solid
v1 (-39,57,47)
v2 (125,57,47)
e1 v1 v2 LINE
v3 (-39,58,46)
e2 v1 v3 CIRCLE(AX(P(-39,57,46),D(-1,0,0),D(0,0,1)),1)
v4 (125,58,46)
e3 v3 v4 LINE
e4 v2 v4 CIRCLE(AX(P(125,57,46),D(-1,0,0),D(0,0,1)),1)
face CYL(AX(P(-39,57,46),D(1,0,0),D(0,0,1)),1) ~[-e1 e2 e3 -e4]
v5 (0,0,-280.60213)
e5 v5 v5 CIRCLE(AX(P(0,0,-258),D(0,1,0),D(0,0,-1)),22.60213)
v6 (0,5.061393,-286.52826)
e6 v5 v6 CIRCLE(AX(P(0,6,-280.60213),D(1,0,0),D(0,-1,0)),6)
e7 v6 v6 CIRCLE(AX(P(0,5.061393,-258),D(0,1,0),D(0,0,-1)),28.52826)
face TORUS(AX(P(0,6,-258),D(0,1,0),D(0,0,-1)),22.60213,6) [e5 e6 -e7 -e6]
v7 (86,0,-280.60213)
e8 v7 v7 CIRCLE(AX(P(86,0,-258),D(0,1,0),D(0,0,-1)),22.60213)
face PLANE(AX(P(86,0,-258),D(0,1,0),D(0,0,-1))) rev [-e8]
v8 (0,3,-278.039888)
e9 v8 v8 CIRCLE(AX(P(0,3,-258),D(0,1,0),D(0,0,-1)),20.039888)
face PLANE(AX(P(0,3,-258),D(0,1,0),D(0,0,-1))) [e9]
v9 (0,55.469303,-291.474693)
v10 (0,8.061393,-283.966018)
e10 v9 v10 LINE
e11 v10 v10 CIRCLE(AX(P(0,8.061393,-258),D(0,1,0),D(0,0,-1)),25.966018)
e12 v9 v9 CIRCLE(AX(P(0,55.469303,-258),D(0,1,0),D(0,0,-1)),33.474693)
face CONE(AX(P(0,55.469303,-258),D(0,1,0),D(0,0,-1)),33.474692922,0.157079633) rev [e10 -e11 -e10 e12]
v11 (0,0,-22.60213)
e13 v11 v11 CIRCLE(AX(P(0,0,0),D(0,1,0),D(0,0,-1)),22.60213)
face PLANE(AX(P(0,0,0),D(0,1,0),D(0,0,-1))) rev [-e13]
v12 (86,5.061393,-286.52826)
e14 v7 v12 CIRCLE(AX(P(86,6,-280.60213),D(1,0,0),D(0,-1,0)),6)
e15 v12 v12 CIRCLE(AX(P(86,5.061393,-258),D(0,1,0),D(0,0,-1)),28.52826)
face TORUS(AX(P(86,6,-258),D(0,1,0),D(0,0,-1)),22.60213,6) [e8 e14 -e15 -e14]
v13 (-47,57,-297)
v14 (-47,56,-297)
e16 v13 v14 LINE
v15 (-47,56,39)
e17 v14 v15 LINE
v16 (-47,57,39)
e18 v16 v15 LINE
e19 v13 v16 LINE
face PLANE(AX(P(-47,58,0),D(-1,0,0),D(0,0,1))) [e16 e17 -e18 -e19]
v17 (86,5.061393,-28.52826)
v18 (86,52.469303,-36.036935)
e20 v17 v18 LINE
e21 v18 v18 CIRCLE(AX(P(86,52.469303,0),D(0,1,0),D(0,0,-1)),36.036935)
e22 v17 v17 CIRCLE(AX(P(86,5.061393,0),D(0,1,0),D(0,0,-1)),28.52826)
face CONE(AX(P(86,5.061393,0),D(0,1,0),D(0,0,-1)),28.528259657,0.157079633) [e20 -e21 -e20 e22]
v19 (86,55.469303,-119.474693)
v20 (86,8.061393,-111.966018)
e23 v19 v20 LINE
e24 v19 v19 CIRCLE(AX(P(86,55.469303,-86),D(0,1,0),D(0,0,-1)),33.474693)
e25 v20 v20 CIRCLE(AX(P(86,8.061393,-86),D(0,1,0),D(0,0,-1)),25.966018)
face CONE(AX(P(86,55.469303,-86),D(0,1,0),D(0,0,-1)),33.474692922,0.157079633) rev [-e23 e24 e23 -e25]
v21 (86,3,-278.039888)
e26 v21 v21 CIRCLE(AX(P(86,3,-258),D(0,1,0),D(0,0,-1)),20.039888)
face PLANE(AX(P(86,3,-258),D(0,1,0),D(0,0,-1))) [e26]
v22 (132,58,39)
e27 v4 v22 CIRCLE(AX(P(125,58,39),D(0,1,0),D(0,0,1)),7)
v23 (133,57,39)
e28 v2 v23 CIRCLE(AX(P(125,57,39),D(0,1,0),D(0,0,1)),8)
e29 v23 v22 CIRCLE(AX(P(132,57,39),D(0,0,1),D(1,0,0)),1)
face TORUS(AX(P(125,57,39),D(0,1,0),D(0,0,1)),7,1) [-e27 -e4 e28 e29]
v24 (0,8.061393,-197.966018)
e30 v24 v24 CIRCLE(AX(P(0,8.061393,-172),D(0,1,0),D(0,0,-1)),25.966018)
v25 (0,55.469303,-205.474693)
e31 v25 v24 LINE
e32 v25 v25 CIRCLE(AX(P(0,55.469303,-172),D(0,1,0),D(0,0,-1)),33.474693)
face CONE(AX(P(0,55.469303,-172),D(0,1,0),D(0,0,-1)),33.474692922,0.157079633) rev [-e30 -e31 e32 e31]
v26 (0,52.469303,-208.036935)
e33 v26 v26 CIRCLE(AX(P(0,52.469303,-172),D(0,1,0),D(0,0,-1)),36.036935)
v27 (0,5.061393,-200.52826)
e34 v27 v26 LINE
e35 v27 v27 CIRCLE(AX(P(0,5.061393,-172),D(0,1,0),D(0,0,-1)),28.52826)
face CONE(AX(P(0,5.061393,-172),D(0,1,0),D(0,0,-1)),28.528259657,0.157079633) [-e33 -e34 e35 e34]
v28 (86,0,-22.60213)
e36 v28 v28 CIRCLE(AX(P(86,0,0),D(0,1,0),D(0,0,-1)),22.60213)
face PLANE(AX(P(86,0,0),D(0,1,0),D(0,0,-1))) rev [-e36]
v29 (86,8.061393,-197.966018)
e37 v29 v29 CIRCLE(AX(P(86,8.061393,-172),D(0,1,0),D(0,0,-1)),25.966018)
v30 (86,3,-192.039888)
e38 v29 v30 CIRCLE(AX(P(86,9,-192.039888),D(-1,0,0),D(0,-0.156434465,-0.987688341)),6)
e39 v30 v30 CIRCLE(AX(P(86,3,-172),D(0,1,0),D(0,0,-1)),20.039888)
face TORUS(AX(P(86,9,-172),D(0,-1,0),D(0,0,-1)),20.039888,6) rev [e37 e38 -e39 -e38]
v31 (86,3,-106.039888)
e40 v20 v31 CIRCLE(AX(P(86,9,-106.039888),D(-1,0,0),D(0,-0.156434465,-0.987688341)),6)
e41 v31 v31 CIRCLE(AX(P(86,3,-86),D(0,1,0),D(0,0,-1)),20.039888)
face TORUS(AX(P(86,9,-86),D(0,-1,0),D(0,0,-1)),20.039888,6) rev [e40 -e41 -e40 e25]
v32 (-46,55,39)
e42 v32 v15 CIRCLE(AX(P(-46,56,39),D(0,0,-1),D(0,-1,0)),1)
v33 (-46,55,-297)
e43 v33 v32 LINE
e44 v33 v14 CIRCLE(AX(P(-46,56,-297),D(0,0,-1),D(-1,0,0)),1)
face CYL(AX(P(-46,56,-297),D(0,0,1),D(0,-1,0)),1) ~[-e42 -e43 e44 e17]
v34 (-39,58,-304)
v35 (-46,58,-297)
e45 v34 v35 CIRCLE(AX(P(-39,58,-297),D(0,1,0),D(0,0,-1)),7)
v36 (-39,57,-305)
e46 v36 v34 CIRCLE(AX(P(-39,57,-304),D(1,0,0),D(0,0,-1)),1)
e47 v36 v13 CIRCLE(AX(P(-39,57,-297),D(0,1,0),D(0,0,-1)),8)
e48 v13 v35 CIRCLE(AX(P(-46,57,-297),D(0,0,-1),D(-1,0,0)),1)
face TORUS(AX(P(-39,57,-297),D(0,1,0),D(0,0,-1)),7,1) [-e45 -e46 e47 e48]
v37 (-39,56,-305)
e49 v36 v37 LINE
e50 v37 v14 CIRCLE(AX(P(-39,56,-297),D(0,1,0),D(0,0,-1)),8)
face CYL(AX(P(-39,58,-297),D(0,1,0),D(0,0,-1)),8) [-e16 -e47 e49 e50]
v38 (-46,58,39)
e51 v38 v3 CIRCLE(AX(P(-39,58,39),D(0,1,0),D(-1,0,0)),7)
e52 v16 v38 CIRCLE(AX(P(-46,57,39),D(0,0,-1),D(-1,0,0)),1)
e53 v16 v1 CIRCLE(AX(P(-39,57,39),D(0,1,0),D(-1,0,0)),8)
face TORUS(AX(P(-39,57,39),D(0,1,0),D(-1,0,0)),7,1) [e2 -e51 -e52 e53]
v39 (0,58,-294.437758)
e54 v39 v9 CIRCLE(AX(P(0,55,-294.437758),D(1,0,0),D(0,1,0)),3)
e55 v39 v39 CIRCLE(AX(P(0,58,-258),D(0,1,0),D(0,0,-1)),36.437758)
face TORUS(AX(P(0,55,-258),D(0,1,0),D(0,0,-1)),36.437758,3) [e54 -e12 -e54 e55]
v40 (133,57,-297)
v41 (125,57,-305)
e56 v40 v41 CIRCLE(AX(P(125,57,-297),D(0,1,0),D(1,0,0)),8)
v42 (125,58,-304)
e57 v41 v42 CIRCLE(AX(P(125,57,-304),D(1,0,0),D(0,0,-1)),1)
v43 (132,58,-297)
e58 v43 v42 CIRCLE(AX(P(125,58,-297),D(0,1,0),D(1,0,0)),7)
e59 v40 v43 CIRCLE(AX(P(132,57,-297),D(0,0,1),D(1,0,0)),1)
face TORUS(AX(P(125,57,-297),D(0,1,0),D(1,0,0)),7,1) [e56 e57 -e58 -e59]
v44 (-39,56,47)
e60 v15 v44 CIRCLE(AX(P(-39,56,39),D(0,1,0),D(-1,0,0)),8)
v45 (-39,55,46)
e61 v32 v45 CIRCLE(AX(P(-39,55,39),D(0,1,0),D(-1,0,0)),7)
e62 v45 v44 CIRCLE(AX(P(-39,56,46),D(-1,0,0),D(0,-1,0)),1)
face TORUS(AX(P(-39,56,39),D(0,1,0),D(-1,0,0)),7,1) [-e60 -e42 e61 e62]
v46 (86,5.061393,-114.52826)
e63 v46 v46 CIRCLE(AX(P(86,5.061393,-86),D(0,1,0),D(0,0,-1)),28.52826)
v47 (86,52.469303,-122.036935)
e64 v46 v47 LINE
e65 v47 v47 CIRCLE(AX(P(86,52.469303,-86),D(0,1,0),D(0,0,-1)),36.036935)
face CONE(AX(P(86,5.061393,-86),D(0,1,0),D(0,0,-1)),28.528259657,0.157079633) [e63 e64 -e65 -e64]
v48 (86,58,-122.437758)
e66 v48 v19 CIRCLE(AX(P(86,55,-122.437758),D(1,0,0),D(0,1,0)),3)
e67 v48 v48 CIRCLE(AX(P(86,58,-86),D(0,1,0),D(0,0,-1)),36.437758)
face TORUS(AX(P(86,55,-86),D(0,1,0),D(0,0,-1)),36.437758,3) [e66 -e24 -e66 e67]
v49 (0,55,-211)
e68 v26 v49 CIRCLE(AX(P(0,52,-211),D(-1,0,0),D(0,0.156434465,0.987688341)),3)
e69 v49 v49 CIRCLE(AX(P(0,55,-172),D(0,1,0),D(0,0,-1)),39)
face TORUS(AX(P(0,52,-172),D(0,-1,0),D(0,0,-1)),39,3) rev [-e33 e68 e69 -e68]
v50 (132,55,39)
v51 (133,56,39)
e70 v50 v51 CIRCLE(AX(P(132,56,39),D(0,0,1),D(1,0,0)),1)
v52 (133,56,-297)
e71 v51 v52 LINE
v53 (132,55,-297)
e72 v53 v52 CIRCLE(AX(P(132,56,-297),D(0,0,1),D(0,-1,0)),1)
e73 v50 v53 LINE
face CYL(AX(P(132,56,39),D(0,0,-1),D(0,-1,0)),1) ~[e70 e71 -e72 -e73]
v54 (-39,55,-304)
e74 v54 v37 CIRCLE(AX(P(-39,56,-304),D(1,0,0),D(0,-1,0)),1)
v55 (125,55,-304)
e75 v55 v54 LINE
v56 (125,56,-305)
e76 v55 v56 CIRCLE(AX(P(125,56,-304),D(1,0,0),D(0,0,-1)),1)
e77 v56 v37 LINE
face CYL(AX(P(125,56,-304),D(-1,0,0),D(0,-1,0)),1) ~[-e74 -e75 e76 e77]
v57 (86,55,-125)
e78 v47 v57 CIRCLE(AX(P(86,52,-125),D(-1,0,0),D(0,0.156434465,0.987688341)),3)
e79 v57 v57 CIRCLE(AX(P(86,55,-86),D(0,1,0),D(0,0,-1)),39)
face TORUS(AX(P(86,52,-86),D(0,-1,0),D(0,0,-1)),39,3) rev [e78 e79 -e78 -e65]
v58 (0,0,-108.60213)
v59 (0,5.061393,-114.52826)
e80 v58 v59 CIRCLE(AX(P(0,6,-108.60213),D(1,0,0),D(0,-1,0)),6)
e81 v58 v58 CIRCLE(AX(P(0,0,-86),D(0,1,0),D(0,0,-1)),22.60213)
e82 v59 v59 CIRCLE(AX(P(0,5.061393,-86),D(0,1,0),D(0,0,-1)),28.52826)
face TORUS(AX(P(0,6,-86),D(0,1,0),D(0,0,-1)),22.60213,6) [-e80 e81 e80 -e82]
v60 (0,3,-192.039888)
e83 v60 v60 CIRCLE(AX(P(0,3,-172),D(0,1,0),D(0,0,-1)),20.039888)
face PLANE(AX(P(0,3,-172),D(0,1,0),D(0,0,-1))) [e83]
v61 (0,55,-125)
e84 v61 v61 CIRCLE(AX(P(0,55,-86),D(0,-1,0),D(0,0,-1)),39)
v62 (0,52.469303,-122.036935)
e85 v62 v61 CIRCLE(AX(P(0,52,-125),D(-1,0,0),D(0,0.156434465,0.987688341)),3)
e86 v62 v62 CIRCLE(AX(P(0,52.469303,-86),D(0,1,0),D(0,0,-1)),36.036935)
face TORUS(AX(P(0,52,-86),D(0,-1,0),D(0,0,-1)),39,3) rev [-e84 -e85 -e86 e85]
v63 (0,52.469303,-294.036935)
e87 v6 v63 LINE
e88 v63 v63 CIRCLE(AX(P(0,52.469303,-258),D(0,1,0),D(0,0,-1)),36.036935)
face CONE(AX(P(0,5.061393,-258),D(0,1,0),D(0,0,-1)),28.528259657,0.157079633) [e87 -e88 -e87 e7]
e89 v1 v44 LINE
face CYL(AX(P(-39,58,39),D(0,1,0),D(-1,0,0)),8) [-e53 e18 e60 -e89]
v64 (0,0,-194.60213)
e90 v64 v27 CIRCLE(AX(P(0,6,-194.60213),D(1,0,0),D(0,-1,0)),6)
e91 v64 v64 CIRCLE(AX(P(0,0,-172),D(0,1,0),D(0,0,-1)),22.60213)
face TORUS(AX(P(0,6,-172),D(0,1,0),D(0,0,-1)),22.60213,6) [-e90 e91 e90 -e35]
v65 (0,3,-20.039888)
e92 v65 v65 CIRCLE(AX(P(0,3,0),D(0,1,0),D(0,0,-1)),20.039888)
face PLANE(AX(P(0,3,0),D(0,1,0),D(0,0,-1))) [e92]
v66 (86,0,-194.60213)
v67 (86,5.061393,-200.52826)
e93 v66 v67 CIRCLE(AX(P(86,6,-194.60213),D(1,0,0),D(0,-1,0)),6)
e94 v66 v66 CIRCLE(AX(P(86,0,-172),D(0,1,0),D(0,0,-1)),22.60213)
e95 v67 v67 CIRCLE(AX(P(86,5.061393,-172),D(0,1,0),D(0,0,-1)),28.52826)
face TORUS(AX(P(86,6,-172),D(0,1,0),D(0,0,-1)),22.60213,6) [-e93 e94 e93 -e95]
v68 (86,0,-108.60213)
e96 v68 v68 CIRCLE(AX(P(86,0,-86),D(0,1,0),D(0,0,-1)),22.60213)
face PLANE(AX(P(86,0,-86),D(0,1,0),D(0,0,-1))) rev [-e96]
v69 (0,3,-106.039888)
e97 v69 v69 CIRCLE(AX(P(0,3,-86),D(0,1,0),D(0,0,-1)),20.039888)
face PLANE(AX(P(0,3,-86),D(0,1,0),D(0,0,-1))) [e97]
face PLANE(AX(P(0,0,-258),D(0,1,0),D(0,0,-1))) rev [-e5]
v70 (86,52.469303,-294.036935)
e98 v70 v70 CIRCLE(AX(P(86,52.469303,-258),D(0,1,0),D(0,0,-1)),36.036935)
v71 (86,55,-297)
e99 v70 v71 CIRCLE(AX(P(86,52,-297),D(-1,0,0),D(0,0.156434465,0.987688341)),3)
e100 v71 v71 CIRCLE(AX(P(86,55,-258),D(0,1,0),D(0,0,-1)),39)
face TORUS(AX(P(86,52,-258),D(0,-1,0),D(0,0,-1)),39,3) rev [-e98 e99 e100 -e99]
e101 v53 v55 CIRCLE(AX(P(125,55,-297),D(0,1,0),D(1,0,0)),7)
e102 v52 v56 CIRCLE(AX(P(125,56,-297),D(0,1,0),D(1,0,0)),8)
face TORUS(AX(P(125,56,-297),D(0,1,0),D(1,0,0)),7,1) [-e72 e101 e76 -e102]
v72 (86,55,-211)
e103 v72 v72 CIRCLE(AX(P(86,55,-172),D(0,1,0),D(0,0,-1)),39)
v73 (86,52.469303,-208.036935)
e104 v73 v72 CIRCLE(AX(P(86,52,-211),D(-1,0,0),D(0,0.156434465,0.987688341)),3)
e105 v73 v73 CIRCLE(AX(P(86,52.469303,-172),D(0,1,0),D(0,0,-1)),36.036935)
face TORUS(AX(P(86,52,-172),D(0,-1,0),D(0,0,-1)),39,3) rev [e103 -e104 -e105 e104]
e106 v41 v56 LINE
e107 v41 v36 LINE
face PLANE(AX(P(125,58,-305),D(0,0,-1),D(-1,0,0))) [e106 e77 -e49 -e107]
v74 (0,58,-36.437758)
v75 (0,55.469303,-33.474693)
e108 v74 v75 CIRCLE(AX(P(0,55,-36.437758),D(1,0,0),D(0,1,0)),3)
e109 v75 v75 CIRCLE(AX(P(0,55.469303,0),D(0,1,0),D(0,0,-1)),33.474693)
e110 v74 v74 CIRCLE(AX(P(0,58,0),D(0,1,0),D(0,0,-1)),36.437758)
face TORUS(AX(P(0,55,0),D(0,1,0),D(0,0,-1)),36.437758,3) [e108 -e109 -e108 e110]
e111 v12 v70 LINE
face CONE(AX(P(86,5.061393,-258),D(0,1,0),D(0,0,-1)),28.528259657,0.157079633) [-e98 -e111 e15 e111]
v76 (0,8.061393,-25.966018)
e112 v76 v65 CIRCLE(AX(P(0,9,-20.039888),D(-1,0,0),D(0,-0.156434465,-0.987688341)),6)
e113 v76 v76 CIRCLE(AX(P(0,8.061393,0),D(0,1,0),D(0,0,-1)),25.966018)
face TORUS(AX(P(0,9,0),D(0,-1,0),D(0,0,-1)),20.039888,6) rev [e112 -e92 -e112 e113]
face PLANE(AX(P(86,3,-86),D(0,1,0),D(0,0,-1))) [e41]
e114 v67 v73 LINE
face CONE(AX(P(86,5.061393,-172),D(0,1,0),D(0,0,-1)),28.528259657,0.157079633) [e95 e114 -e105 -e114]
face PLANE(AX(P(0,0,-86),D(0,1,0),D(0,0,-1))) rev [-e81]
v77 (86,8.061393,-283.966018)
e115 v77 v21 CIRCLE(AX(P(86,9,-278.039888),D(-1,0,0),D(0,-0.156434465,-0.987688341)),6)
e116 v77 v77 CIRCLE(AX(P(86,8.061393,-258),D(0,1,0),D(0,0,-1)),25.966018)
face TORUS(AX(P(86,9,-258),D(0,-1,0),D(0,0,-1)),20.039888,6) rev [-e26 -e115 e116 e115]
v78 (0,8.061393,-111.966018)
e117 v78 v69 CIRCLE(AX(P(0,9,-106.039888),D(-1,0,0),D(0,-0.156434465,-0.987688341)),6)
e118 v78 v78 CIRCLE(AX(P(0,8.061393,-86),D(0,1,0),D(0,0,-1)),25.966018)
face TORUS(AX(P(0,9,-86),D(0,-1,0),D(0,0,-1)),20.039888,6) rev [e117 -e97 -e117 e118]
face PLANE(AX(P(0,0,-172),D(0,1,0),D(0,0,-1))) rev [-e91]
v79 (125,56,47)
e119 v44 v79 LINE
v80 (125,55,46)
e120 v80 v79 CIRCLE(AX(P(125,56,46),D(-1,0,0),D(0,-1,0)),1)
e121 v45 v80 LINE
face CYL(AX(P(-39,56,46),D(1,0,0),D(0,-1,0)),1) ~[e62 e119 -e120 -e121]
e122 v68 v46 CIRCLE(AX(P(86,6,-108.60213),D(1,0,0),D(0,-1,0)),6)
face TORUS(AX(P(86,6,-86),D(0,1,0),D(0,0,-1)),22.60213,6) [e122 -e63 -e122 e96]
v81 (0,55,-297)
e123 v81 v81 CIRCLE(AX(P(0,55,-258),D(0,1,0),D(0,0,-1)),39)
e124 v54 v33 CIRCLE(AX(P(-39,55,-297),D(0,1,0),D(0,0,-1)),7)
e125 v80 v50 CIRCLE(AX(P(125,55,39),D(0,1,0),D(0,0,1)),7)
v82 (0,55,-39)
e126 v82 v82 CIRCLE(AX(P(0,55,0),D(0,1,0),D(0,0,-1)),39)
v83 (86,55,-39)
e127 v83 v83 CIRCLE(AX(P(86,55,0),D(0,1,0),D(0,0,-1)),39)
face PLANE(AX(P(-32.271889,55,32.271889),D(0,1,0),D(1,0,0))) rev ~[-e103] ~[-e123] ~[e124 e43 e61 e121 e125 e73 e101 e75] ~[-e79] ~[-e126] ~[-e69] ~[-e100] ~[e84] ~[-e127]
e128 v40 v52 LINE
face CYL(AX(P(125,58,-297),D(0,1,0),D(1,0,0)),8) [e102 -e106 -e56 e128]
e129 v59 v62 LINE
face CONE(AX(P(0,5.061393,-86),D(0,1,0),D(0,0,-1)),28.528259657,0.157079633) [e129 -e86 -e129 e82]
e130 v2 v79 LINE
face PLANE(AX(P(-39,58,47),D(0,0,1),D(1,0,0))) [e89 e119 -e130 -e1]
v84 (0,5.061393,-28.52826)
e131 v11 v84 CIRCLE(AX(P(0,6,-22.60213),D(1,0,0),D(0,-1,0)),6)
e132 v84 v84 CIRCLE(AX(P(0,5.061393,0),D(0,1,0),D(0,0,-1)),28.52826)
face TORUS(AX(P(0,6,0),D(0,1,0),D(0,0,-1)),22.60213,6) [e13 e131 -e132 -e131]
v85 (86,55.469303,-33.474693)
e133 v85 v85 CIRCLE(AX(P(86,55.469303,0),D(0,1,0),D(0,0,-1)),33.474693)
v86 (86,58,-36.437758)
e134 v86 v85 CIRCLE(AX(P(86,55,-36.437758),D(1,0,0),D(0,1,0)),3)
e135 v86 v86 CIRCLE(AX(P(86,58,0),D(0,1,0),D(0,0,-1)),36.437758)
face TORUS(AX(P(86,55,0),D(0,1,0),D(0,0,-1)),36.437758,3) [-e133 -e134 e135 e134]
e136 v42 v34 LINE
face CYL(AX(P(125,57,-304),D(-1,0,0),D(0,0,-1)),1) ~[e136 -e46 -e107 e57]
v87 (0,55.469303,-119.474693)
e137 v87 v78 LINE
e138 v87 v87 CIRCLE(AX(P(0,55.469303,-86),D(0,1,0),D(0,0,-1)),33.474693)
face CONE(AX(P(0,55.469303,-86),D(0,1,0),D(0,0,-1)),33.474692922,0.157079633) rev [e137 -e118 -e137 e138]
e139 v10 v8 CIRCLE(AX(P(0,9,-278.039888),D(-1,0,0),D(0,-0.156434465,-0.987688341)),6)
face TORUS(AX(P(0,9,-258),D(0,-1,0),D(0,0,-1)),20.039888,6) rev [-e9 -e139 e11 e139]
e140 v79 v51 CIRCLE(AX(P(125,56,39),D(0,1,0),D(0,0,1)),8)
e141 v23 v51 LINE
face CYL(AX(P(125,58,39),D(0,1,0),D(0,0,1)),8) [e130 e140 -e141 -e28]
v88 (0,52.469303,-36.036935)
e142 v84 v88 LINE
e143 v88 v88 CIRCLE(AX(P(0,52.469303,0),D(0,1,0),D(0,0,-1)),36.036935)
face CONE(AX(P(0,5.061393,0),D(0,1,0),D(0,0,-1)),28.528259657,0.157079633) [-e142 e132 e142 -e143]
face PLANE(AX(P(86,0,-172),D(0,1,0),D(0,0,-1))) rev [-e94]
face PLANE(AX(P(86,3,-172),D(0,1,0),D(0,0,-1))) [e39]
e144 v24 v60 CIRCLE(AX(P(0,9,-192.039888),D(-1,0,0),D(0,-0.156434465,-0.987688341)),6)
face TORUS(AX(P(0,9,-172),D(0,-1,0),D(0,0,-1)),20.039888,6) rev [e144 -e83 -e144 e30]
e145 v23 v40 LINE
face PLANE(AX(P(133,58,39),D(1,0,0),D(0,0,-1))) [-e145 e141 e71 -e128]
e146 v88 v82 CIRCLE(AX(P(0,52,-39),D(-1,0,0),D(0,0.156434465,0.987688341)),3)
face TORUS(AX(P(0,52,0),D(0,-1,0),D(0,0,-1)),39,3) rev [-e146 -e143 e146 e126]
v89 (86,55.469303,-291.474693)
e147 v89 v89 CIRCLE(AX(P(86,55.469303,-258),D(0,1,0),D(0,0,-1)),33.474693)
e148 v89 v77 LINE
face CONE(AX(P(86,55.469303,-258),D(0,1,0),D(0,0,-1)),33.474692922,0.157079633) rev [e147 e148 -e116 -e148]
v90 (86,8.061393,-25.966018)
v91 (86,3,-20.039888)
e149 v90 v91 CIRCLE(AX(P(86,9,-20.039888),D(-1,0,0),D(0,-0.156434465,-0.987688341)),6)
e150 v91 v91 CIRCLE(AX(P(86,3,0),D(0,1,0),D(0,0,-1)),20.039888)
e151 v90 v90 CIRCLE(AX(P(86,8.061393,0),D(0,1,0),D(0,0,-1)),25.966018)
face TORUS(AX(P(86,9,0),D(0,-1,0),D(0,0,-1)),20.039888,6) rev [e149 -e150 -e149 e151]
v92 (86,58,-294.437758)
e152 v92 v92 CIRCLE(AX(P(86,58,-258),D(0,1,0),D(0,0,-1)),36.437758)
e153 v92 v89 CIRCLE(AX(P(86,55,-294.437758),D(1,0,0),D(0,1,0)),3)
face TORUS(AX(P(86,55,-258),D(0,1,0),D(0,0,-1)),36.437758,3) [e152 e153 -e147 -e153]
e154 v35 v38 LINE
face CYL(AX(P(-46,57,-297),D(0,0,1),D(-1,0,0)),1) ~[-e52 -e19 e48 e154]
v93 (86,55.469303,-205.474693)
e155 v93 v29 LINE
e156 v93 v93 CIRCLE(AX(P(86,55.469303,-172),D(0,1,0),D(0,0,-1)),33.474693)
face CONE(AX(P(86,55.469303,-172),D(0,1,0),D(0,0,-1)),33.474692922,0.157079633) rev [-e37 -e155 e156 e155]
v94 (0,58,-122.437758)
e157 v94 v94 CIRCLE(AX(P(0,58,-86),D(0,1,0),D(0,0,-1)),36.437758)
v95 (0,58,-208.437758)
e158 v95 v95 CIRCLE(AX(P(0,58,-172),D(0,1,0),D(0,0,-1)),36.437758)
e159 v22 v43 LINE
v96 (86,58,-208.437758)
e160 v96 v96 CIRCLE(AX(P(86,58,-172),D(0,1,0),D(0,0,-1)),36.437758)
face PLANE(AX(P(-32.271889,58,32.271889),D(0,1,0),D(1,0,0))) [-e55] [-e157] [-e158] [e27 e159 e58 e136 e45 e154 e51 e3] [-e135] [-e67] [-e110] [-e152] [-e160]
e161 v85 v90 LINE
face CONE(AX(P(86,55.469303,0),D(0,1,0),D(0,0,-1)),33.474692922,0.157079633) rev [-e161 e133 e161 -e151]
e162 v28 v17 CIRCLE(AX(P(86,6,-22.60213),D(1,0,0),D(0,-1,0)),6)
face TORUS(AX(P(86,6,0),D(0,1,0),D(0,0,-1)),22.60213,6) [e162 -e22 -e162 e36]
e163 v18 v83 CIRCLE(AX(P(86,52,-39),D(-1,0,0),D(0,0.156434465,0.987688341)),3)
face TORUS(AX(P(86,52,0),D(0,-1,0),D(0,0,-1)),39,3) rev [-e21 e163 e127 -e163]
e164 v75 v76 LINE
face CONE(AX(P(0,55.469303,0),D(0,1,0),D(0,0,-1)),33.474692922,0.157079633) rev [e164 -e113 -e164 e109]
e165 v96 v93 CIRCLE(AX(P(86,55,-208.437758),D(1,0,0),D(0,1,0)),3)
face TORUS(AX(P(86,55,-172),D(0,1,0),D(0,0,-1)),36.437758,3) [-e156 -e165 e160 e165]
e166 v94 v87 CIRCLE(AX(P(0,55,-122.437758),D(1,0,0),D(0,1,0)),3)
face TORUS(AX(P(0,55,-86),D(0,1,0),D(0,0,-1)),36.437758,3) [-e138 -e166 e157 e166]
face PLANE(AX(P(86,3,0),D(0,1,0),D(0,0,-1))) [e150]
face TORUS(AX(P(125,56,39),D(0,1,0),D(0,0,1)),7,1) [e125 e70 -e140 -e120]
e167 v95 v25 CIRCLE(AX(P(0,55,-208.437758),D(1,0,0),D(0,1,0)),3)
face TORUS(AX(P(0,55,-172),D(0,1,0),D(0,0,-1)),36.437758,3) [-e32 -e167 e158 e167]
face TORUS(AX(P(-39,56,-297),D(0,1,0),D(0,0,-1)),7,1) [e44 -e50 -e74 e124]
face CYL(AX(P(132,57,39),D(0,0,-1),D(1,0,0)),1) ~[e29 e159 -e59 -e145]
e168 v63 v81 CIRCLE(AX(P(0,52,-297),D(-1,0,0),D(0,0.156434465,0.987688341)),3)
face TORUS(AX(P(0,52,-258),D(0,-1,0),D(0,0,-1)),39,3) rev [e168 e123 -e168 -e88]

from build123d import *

# Parameters (mm, degrees)
LPATTERN1_COUNT      = 2
LPATTERN1_PITCH      = 86
LPATTERN1_COUNT_DIR2 = 4
LPATTERN1_PITCH_DIR2 = 86
BOSS_EXTRUDE1_START  = 58
BOSS_EXTRUDE1_DEPTH  = 3
FILLET1_R            = 1


with BuildPart() as part:
    # Sketch1 → Revolve1 (revolve)
    with BuildSketch(Plane.XY, mode=Mode.PRIVATE) as revolve1_sk:
        with BuildLine():
            Line((0, 0), (-22.602129613, 0))
            ThreePointArc((-22.602129613, 0), (-26.498817903, 1.437564206), (-28.528259657, 5.06139321))
            Line((-28.528259657, 5.06139321), (-36.036934978, 52.469303395))
            ThreePointArc((-36.036934978, 52.469303395), (-37.051655855, 54.281217897), (-39, 55))
            Line((-39, 55), (-47, 55))
            Line((-47, 55), (-47, 58))
            Line((-47, 58), (-36.437757944, 58))
            ThreePointArc((-36.437757944, 58), (-34.489413799, 57.281217897), (-33.474692922, 55.469303395))
            Line((-33.474692922, 55.469303395), (-25.9660176, 8.06139321))
            ThreePointArc((-25.9660176, 8.06139321), (-23.936575847, 4.437564206), (-20.039887557, 3))
            Line((-20.039887557, 3), (0, 3))
            Line((0, 3), (0, 0))
        make_face()
    revolve1 = revolve(revolve1_sk.sketch.rotate(Axis((0, 0, 0), (0, 1, 0)), 270), axis=Axis((0, 0, 0), (0, 1, 0)))

    # LPattern1: Revolve1 2 × 4
    with Locations(*[(i * LPATTERN1_PITCH, 0, -j * LPATTERN1_PITCH_DIR2) for i in range(LPATTERN1_COUNT) for j in range(LPATTERN1_COUNT_DIR2) if (i, j) != (0, 0)]):
        add(revolve1)

    # Sketch3 → Boss-Extrude1 (add)
    with BuildSketch(Plane(origin=(0, 0, 0), x_dir=(1, 0, 0), z_dir=(0, 1, 0)).offset(BOSS_EXTRUDE1_START)):
        with BuildLine():
            ThreePointArc((-47, -39), (-44.656854249, -44.656854249), (-39, -47))
            Line((-39, -47), (1.51e-07, -47))
            ThreePointArc((1.51e-07, -47), (-33.234018781, -33.234018651), (-47, 3.35e-07))
            Line((-47, 3.35e-07), (-47, -39))
        make_face()
        with BuildLine():
            ThreePointArc((43, -18.973665961), (25.663570546, -39.374879642), (1.51e-07, -47))
            Line((1.51e-07, -47), (86, -47))
            ThreePointArc((86, -47), (60.336429517, -39.374879683), (43, -18.973665961))
        make_face()
        with BuildLine():
            ThreePointArc((133, 0), (119.234018716, -33.234018716), (86, -47))
            Line((86, -47), (125, -47))
            ThreePointArc((125, -47), (130.656854249, -44.656854249), (133, -39))
            Line((133, -39), (133, 0))
        make_face()
        with BuildLine():
            ThreePointArc((104.973665961, 43), (125.374879683, 25.663570483), (133, 0))
            Line((133, 0), (133, 86))
            ThreePointArc((133, 86), (125.374879683, 60.336429517), (104.973665961, 43))
        make_face()
        with BuildLine():
            ThreePointArc((104.973665961, 129), (125.374879683, 111.663570483), (133, 86))
            Line((133, 86), (133, 172))
            ThreePointArc((133, 172), (125.374879683, 146.336429517), (104.973665961, 129))
        make_face()
        with BuildLine():
            ThreePointArc((67.026334039, 43), (52.765981284, 33.234018716), (43, 18.973665961))
            ThreePointArc((43, 18.973665961), (33.234018716, 33.234018716), (18.973665961, 43))
            ThreePointArc((18.973665961, 43), (33.234018716, 52.765981284), (43, 67.026334039))
            ThreePointArc((43, 67.026334039), (52.765981284, 52.765981284), (67.026334039, 43))
        make_face()
        with BuildLine():
            ThreePointArc((18.973665961, 129), (33.234018716, 138.765981284), (43, 153.026334039))
            ThreePointArc((43, 153.026334039), (52.765981284, 138.765981284), (67.026334039, 129))
            ThreePointArc((67.026334039, 129), (52.765981284, 119.234018716), (43, 104.973665961))
            ThreePointArc((43, 104.973665961), (33.234018716, 119.234018716), (18.973665961, 129))
        make_face()
        with BuildLine():
            Line((-47, 172), (-47, 85.999999906))
            ThreePointArc((-47, 85.999999906), (-39.374879709, 111.663570443), (-18.973665961, 129))
            ThreePointArc((-18.973665961, 129), (-39.374879683, 146.336429517), (-47, 172))
        make_face()
        with BuildLine():
            Line((-47, 85.999999906), (-47, 3.35e-07))
            ThreePointArc((-47, 3.35e-07), (-39.374879592, 25.663570623), (-18.973665961, 43))
            ThreePointArc((-18.973665961, 43), (-39.374879658, 60.336429478), (-47, 85.999999906))
        make_face()
        with BuildLine():
            ThreePointArc((104.973665961, 215), (125.374879683, 197.663570483), (133, 172))
            Line((133, 172), (133, 258))
            ThreePointArc((133, 258), (125.374879683, 232.336429517), (104.973665961, 215))
        make_face()
        with BuildLine():
            ThreePointArc((43, 190.973665961), (33.234018716, 205.234018716), (18.973665961, 215))
            ThreePointArc((18.973665961, 215), (33.234018716, 224.765981284), (43, 239.026334039))
            ThreePointArc((43, 239.026334039), (52.765981284, 224.765981284), (67.026334039, 215))
            ThreePointArc((67.026334039, 215), (52.765981284, 205.234018716), (43, 190.973665961))
        make_face()
        with BuildLine():
            Line((-47, 258.000000209), (-47, 172))
            ThreePointArc((-47, 172), (-39.374879683, 197.663570483), (-18.973665961, 215))
            ThreePointArc((-18.973665961, 215), (-39.374879741, 232.336429605), (-47, 258.000000209))
        make_face()
        with BuildLine():
            Line((-47, 297), (-47, 258.000000209))
            ThreePointArc((-47, 258.000000209), (-33.234018535, 291.234018897), (3.03e-07, 305))
            Line((3.03e-07, 305), (-39, 305))
            ThreePointArc((-39, 305), (-44.656854249, 302.656854249), (-47, 297))
        make_face()
        with BuildLine():
            Line((86, 305), (3.03e-07, 305))
            ThreePointArc((3.03e-07, 305), (25.663570609, 297.374879601), (43, 276.973665961))
            ThreePointArc((43, 276.973665961), (60.336429517, 297.374879683), (86, 305))
        make_face()
        with BuildLine():
            ThreePointArc((86, 305), (119.234018716, 291.234018716), (133, 258))
            Line((133, 258), (133, 297))
            ThreePointArc((133, 297), (130.656854249, 302.656854249), (125, 305))
            Line((125, 305), (86, 305))
        make_face()
    extrude(amount=-BOSS_EXTRUDE1_DEPTH)

    # Fillet1
    fillet1_edges = [part.edges().sort_by_distance(p)[0] for p in [
        (-44.656854249, 58, 44.656854249),
        (-47, 58, -129),
        (43, 55, 47),
        (-44.656854249, 55, 44.656854249),
        (-47, 55, -129),
        (43, 58, 47),
        (130.656854249, 58, 44.656854249),
        (133, 55, -129),
        (130.656854249, 55, 44.656854249),
        (133, 58, -129),
        (-44.656854249, 58, -302.656854249),
        (43, 58, -305),
        (-44.656854249, 55, -302.656854249),
        (43, 55, -305),
        (130.656854249, 58, -302.656854249),
        (130.656854249, 55, -302.656854249),
    ]]
    fillet(fillet1_edges, radius=FILLET1_R)


solid = part.part
